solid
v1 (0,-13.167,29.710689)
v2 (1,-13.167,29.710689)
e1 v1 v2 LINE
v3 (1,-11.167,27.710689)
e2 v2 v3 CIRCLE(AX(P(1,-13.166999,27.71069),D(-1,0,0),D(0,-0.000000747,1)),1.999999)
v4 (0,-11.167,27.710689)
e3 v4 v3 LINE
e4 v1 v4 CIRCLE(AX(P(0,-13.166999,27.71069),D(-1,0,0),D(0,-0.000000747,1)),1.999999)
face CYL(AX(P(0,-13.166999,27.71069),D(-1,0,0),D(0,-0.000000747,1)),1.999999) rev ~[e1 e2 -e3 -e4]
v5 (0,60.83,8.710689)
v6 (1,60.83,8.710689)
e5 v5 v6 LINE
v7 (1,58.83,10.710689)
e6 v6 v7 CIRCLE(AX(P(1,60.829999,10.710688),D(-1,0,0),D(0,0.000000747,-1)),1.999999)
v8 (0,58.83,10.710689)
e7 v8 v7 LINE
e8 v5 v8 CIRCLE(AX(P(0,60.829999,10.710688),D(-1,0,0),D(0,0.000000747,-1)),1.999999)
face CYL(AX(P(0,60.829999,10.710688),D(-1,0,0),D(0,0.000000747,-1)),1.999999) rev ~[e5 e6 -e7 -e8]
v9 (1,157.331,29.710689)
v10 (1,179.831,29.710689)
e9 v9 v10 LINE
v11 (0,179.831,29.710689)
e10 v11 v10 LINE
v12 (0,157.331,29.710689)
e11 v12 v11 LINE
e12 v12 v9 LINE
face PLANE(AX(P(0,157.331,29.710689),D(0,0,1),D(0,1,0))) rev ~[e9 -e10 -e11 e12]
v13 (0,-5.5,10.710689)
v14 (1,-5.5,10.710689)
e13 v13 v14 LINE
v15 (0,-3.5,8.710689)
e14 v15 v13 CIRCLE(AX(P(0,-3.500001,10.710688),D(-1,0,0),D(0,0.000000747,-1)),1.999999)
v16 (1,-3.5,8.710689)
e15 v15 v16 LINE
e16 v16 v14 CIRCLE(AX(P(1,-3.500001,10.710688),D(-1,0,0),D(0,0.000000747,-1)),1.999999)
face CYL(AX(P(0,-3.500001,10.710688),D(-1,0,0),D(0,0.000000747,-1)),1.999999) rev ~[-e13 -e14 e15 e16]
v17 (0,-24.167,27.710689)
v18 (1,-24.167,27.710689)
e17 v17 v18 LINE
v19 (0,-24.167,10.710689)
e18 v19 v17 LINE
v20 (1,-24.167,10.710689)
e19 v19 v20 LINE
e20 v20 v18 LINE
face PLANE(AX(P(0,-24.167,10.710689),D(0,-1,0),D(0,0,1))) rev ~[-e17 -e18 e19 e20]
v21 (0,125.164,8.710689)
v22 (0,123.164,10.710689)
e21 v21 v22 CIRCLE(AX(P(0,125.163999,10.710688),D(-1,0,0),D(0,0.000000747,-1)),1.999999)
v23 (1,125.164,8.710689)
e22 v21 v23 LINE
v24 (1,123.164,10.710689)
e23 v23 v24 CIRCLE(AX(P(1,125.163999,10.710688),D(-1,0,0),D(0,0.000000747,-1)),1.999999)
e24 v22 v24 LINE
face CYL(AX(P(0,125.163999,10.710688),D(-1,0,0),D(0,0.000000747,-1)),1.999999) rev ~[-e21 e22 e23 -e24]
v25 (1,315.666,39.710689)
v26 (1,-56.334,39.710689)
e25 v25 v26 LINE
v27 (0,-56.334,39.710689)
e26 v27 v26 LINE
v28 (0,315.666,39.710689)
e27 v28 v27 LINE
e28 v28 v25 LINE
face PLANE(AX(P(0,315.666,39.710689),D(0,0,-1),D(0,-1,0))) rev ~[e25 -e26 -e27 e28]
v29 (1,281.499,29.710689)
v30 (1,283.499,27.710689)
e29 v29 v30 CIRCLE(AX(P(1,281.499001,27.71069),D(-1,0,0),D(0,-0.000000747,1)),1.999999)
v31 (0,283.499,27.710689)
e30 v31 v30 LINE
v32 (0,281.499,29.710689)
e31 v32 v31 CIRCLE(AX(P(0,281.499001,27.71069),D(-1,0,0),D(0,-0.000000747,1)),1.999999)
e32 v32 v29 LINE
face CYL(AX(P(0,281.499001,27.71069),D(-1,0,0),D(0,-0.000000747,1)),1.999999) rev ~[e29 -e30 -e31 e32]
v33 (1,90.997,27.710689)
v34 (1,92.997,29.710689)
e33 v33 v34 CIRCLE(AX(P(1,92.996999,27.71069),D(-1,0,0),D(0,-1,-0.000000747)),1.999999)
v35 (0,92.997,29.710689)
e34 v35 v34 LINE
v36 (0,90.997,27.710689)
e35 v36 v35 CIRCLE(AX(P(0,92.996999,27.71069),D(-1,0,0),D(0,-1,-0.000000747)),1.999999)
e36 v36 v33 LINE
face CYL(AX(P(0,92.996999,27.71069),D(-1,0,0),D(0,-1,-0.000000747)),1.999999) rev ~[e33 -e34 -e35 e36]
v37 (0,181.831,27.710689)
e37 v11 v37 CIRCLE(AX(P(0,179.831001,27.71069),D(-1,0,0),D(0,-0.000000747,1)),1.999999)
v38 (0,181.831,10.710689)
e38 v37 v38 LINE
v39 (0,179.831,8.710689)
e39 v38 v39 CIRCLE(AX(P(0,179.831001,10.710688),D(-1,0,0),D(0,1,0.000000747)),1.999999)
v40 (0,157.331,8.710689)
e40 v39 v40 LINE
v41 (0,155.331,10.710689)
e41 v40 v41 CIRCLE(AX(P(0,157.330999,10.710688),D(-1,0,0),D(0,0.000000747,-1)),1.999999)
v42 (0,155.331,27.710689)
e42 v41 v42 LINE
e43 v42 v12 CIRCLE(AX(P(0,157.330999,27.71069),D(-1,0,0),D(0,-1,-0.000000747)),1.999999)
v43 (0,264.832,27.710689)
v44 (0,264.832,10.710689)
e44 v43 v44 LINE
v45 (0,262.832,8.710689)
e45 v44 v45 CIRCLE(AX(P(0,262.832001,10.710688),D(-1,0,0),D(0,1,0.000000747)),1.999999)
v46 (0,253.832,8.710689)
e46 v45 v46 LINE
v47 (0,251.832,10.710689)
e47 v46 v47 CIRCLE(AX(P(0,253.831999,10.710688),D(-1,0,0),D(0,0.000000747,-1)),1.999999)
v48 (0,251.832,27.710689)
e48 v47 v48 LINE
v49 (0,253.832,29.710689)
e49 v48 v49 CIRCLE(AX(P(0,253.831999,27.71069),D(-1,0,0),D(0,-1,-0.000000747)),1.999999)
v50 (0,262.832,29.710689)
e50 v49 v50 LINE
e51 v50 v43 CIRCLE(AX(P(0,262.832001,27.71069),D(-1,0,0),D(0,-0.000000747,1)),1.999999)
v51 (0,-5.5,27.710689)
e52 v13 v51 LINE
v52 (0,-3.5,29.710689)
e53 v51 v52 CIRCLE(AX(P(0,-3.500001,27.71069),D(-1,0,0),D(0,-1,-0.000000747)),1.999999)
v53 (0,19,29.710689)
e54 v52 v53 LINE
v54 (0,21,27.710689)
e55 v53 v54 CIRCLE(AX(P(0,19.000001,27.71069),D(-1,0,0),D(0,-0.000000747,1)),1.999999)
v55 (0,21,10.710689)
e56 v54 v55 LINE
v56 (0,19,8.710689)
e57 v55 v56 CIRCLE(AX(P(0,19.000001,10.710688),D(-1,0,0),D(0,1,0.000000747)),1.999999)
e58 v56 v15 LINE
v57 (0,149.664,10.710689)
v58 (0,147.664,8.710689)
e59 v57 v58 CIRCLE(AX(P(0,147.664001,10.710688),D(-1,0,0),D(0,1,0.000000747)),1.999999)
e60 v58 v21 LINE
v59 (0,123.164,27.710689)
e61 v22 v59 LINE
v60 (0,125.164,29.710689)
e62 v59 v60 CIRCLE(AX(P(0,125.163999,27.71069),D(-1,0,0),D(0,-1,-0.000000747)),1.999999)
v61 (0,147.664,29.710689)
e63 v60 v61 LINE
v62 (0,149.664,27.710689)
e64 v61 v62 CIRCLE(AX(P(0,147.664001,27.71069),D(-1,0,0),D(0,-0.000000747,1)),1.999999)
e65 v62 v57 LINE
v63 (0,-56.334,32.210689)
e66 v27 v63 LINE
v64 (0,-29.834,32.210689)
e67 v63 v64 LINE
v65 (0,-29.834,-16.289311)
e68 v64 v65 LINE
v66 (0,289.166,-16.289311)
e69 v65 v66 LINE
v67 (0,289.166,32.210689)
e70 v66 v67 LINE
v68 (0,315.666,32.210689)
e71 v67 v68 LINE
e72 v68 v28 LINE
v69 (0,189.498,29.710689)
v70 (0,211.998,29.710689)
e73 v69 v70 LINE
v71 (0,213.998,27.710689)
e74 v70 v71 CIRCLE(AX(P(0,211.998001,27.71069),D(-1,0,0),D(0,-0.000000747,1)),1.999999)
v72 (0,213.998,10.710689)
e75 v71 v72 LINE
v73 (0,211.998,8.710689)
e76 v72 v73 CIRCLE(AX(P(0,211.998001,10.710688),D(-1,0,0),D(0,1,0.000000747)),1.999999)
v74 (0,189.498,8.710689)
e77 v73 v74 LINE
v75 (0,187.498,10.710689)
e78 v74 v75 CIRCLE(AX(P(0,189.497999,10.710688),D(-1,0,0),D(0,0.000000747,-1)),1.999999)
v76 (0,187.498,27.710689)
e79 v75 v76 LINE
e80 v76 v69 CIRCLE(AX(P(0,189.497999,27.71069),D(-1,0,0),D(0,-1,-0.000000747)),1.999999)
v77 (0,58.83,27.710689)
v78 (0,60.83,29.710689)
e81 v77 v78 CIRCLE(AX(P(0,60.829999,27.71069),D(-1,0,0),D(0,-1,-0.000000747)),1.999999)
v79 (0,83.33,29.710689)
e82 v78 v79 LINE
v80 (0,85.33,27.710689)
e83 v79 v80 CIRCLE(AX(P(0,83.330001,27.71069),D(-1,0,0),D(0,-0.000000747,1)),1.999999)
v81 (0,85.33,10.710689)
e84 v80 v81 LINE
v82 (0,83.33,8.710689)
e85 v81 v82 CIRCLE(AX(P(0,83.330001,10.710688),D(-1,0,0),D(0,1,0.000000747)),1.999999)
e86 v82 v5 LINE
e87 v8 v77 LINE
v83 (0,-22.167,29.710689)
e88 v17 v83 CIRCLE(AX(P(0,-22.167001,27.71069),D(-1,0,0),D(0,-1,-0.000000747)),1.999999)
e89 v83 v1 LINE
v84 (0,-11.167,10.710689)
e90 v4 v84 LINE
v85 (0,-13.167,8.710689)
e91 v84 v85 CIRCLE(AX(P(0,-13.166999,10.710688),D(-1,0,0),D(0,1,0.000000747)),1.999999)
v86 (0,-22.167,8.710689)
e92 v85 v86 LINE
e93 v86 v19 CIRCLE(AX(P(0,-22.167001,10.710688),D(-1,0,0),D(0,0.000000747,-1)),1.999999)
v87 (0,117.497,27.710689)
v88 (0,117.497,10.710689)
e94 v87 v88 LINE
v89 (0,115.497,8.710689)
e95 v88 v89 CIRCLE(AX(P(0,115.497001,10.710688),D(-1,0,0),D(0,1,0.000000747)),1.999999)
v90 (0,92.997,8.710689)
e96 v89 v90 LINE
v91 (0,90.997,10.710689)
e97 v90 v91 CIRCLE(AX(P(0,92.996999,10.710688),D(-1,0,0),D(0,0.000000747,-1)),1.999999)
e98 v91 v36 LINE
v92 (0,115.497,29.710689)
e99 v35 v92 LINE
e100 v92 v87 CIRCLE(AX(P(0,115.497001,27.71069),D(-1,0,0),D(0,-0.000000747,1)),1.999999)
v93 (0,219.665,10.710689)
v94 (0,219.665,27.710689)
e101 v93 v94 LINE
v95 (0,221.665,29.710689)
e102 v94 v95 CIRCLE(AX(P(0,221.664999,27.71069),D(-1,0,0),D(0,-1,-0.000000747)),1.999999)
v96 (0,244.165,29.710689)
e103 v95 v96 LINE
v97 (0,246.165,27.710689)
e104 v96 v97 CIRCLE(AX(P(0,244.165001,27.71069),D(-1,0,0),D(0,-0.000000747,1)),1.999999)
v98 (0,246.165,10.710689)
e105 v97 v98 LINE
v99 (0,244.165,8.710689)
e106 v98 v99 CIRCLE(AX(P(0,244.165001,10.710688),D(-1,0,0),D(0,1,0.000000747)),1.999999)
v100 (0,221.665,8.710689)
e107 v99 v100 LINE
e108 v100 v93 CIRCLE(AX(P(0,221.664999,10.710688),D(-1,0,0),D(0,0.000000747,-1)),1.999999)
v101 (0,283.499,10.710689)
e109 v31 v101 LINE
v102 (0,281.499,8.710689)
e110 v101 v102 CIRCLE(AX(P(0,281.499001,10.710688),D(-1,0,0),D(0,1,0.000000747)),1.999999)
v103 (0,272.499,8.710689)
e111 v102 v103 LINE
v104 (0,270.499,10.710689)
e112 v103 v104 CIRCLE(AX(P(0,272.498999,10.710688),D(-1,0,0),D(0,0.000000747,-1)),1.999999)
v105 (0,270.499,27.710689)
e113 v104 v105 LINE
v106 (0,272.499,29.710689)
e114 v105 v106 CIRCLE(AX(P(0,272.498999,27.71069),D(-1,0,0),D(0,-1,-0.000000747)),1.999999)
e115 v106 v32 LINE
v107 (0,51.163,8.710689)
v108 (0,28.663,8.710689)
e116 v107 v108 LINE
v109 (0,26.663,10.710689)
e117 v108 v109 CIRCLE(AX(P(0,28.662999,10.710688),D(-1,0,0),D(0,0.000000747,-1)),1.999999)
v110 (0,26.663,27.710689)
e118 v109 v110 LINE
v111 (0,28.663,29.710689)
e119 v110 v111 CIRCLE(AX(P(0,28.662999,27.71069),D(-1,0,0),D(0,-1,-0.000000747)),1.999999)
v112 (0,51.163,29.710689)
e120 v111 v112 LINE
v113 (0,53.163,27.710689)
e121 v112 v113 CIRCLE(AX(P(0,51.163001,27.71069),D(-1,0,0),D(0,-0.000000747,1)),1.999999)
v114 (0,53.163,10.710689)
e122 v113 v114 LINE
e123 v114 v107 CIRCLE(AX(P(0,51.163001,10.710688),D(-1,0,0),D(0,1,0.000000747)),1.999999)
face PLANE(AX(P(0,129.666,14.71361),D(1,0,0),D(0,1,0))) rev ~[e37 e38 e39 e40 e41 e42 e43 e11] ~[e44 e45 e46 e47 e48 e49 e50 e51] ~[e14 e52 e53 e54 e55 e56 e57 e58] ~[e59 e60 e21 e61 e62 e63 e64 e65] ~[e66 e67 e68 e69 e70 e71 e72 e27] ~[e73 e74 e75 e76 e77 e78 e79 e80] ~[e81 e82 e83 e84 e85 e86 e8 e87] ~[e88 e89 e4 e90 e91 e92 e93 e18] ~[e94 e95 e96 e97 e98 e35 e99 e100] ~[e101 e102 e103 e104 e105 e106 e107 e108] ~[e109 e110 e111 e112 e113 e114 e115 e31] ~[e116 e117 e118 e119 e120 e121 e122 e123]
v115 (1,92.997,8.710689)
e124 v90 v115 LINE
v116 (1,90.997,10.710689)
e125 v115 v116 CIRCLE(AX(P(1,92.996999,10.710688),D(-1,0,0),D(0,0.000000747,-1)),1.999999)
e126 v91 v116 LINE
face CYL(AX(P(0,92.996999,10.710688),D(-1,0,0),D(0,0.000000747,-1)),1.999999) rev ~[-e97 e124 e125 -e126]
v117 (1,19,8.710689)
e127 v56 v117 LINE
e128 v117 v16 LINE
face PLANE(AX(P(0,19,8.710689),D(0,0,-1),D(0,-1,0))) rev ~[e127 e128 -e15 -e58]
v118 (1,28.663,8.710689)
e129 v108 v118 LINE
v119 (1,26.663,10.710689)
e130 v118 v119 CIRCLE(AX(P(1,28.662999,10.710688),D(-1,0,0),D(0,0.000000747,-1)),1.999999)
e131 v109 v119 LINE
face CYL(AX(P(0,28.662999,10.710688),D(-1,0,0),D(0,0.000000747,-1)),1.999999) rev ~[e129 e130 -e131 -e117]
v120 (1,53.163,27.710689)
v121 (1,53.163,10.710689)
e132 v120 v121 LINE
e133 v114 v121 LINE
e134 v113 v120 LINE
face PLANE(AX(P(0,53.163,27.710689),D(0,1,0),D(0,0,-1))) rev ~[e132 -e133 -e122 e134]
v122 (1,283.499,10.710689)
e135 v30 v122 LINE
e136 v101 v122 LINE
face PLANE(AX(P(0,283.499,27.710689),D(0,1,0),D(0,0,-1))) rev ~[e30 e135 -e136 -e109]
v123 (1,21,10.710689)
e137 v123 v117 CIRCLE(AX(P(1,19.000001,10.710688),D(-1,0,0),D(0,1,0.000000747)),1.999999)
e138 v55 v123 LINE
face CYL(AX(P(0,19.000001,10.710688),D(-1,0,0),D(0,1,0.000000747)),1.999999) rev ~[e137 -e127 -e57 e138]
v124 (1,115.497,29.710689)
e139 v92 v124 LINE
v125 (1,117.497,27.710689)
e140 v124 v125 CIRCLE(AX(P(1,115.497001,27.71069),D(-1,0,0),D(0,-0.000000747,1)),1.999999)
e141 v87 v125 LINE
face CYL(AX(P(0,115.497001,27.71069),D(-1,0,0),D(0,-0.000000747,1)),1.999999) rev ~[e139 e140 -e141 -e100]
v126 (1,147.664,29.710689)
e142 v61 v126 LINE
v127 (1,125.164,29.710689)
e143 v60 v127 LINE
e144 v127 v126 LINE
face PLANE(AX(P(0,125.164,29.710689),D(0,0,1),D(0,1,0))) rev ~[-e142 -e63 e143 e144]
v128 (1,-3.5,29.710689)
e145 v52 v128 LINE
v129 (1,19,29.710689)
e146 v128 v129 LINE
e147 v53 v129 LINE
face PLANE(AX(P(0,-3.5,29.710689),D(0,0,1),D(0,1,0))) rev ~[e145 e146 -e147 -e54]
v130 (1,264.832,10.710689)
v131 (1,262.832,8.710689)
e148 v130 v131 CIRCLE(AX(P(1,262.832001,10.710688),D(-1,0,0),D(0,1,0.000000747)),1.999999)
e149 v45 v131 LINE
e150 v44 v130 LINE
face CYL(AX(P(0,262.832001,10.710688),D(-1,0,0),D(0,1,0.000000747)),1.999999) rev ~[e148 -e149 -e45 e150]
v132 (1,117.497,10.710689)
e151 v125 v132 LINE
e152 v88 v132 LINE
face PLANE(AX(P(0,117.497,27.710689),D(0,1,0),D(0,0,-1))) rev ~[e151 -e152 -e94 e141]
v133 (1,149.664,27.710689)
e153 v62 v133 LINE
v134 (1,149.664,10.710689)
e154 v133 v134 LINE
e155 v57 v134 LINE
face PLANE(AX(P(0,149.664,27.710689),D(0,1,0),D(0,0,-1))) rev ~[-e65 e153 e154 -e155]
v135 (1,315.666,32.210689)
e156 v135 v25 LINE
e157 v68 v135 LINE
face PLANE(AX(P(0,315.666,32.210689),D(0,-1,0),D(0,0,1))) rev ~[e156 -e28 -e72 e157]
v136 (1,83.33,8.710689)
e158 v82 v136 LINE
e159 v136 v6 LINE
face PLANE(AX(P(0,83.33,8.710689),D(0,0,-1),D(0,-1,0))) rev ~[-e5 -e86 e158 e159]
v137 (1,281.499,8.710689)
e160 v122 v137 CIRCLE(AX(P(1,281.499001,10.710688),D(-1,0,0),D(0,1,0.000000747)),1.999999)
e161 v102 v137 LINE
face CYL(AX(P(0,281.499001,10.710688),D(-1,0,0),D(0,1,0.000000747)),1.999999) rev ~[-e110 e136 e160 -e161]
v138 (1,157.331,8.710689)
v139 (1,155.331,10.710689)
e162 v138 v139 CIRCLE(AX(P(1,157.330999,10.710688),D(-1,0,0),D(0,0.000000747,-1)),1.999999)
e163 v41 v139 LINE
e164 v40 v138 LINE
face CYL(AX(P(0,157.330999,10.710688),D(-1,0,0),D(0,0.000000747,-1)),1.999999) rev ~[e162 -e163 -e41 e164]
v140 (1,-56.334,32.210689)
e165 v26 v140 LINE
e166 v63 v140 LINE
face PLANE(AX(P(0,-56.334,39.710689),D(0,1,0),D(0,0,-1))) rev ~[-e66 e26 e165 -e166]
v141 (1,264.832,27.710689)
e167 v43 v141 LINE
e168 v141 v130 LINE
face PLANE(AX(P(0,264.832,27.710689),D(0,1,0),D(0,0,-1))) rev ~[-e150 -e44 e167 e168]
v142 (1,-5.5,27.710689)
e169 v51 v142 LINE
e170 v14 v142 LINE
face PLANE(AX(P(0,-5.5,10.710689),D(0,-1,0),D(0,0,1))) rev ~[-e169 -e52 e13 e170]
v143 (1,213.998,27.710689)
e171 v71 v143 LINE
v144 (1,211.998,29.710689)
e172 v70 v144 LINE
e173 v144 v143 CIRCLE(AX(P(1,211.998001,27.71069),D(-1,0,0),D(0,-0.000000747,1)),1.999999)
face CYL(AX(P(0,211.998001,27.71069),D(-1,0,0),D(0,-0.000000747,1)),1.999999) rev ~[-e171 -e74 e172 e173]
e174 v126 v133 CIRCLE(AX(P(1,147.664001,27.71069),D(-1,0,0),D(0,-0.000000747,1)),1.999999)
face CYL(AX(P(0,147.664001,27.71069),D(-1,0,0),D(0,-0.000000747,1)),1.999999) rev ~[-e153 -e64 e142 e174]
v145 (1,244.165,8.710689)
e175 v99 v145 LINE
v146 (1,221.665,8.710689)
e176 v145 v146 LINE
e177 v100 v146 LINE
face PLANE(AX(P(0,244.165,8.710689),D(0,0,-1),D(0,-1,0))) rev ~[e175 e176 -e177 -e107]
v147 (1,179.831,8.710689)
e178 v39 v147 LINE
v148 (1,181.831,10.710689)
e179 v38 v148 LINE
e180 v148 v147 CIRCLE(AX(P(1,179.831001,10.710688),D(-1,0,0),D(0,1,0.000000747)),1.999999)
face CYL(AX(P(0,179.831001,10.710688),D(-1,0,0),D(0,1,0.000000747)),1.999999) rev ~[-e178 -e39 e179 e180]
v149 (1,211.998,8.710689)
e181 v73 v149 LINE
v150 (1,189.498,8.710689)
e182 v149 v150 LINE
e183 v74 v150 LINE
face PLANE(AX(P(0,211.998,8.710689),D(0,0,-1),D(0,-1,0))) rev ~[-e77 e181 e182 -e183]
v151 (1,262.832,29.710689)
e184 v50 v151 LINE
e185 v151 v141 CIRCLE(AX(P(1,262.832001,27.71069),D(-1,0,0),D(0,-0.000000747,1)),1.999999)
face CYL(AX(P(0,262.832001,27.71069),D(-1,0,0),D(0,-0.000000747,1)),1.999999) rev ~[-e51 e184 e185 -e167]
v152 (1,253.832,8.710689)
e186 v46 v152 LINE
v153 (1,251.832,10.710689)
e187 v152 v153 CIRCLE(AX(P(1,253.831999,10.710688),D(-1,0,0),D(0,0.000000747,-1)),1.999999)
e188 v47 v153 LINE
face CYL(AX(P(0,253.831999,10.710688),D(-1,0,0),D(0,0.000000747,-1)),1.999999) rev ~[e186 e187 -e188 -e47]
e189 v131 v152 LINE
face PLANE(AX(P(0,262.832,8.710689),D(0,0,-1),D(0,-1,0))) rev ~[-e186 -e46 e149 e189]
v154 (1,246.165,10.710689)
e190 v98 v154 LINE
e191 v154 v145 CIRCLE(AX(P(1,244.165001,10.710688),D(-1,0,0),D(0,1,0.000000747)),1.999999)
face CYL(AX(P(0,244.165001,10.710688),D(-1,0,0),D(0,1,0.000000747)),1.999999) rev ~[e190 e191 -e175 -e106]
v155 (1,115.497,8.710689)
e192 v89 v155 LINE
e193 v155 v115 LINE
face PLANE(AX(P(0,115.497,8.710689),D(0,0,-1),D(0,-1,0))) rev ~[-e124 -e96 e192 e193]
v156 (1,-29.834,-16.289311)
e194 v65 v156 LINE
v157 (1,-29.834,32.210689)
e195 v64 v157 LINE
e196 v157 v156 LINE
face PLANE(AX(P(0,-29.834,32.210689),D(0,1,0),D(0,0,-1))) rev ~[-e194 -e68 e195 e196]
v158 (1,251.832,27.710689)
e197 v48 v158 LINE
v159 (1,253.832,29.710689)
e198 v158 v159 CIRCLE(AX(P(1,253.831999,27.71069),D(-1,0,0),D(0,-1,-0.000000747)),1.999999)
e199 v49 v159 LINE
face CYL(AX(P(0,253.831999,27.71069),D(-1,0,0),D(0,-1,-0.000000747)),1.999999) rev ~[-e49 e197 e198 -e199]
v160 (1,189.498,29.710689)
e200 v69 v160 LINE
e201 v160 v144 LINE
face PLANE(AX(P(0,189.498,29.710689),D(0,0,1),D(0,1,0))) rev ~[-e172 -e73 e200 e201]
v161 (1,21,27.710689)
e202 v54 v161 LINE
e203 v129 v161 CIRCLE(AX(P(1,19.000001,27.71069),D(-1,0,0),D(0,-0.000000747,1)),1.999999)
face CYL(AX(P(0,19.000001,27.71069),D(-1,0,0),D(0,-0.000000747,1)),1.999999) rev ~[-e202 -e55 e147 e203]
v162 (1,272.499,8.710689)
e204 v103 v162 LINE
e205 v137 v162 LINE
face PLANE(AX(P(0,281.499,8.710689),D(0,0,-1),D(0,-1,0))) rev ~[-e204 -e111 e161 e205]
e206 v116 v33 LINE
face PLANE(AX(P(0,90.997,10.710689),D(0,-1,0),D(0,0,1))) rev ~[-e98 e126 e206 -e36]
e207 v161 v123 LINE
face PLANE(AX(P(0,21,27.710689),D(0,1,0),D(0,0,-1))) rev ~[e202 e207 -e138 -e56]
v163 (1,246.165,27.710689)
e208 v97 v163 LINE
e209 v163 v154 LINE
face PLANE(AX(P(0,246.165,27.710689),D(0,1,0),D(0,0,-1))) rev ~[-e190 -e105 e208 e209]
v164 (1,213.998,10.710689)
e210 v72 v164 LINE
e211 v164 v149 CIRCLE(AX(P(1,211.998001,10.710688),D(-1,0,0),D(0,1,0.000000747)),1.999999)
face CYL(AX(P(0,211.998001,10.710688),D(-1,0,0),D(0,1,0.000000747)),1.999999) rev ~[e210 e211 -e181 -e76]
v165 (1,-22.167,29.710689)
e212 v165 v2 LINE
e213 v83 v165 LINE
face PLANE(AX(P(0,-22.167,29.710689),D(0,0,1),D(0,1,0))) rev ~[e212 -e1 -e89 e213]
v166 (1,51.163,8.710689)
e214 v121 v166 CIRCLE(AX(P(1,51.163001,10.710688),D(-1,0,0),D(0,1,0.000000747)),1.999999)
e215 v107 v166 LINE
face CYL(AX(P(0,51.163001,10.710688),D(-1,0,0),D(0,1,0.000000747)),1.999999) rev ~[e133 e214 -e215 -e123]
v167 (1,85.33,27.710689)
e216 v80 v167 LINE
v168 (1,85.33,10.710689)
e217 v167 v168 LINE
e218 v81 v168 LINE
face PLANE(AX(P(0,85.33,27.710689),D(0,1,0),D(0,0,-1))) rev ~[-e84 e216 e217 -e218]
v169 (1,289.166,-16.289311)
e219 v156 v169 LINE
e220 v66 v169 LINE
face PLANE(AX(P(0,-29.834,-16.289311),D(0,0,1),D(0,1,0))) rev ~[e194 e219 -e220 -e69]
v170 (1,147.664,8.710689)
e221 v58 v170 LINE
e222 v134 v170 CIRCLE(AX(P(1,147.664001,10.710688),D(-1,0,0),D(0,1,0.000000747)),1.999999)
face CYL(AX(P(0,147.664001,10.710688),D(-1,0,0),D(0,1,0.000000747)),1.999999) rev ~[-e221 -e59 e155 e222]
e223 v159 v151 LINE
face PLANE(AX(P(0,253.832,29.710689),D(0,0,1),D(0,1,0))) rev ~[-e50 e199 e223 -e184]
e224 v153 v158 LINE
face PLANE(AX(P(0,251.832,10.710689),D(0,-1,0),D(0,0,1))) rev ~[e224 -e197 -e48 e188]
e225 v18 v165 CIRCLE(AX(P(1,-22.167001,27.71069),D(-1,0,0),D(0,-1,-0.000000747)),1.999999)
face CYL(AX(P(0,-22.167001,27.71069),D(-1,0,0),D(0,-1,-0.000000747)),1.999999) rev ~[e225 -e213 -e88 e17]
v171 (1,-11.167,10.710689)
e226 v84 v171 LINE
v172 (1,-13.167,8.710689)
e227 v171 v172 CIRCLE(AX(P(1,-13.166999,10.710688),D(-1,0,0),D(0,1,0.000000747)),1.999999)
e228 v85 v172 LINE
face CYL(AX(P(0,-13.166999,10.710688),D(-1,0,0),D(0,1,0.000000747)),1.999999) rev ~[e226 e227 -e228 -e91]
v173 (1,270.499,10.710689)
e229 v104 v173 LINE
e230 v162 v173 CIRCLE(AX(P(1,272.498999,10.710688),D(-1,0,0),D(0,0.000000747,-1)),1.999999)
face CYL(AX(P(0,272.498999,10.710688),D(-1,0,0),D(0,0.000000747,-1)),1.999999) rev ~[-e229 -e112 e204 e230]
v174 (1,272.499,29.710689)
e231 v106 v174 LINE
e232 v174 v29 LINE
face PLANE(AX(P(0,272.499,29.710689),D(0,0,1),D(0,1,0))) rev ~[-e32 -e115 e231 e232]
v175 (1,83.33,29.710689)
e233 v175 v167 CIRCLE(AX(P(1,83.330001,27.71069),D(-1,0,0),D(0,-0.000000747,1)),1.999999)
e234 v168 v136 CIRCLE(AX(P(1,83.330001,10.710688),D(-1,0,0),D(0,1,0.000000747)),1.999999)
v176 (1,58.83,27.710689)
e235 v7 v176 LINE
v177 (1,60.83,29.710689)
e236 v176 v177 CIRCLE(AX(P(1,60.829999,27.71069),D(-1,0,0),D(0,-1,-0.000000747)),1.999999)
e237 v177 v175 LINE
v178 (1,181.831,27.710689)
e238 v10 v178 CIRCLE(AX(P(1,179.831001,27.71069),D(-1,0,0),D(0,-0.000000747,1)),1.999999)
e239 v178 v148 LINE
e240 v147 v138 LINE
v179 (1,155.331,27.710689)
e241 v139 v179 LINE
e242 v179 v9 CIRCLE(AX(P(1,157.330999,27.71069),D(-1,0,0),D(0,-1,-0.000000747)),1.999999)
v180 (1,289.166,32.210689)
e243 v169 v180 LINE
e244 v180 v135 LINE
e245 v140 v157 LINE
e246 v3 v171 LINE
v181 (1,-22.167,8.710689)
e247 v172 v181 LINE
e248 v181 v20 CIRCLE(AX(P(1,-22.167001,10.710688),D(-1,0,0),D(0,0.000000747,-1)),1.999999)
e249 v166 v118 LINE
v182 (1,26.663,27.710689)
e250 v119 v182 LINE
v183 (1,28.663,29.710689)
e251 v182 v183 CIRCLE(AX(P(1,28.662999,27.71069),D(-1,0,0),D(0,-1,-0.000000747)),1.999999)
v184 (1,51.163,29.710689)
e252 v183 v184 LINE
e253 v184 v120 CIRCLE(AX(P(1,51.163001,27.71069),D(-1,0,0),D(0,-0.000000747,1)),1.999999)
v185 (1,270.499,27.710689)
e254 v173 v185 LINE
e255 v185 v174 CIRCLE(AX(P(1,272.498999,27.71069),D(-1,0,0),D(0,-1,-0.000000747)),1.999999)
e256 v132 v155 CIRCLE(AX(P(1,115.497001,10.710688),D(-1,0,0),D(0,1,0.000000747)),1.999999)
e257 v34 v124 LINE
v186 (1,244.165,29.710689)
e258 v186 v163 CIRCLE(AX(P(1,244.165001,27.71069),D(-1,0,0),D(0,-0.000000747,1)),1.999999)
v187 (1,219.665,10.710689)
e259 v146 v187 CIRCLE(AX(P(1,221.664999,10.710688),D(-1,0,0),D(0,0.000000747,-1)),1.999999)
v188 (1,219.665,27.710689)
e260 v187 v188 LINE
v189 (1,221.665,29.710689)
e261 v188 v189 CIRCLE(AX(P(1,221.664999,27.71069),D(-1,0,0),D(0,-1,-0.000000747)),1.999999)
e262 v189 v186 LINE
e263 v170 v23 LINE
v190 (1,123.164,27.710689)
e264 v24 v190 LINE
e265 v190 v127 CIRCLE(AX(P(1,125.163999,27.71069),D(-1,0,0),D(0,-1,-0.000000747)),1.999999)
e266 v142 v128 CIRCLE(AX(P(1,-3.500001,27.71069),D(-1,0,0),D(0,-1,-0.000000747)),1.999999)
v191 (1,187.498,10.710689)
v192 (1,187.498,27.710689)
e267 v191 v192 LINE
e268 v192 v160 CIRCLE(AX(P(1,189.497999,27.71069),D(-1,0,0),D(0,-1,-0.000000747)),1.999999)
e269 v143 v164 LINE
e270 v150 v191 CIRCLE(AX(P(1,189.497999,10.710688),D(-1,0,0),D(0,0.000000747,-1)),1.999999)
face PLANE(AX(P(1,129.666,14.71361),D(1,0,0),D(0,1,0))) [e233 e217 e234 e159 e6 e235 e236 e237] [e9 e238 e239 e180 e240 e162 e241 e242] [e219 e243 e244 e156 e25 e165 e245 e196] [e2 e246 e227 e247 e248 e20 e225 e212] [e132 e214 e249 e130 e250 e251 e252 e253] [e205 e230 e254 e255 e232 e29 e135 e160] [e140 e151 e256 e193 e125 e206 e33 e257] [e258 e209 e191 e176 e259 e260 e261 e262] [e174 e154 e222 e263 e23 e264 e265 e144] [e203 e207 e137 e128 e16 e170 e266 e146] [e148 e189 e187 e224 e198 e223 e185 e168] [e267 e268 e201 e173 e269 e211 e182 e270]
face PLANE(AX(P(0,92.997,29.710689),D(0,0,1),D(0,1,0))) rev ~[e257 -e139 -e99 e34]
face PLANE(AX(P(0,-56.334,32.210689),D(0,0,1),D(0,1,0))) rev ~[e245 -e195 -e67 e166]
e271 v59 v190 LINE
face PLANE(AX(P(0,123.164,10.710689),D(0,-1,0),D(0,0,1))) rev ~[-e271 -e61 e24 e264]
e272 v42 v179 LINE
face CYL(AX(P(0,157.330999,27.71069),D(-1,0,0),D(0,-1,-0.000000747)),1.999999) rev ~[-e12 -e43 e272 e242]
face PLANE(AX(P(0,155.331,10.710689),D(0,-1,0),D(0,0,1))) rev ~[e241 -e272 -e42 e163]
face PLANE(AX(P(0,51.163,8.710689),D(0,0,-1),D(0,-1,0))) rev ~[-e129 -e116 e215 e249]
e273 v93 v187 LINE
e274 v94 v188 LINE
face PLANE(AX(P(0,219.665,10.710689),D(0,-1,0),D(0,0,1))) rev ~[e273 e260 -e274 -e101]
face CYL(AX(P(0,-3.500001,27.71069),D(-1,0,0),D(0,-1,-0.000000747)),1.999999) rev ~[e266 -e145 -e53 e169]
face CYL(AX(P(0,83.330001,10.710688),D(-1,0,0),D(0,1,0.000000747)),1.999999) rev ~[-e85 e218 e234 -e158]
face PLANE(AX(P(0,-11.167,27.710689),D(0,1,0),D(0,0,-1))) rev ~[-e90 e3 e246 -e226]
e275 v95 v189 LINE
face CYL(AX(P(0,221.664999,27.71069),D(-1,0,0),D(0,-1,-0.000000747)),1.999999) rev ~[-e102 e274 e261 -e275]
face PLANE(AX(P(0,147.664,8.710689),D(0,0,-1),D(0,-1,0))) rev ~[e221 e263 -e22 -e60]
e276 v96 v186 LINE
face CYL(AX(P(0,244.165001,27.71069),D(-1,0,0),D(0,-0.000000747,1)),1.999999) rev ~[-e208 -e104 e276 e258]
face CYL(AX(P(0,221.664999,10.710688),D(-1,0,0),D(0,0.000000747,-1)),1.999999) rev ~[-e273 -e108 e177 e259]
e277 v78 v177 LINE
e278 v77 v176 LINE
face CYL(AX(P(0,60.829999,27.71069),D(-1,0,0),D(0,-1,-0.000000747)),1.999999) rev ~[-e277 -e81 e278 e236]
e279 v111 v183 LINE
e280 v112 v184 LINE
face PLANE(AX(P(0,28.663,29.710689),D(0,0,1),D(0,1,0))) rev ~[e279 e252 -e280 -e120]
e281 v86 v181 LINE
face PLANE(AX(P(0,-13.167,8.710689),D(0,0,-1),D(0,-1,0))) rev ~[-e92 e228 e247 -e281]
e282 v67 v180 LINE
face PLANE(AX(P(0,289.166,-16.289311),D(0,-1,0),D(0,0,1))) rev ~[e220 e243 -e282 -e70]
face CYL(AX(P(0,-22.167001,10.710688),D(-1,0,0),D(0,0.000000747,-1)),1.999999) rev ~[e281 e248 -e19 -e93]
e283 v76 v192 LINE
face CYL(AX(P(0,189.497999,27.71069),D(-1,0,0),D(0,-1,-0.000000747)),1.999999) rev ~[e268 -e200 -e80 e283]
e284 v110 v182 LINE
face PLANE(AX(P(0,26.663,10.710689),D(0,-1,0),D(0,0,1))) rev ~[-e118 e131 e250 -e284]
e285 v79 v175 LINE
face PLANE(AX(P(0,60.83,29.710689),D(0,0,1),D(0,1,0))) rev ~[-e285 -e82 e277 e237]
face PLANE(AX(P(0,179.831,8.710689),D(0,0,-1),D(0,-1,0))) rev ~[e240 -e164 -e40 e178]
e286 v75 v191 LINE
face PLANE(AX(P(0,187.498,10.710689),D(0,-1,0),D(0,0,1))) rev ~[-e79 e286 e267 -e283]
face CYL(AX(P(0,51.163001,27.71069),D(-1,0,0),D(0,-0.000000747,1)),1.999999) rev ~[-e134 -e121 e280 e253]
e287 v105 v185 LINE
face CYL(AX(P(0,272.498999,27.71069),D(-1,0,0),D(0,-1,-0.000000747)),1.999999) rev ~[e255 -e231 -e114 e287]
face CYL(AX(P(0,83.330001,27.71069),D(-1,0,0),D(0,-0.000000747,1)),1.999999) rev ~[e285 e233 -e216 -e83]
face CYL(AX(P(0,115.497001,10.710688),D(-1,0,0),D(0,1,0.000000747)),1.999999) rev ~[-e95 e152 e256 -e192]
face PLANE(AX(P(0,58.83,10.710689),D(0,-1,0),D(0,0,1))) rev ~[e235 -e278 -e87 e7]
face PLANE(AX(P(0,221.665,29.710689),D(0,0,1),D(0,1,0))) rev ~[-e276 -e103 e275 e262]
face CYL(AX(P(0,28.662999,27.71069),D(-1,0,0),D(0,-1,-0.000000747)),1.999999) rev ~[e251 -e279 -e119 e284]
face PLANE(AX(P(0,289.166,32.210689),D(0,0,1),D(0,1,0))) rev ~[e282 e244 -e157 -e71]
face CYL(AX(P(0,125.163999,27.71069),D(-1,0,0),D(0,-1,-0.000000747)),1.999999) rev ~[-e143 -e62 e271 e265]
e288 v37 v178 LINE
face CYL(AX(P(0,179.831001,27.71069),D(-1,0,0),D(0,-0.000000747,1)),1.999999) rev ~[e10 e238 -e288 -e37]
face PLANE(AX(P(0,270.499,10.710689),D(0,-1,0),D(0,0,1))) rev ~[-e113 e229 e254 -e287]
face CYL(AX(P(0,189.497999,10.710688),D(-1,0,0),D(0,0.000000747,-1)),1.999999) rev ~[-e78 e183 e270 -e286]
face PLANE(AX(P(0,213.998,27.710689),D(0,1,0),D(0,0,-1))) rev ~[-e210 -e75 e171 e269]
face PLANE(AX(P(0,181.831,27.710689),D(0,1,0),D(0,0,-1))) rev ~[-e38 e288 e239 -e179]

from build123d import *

# Parameters (mm, degrees)
F1_DEPTH = 1


with BuildPart() as f1:
    # F0 (on Right) → F1 (new body)
    with BuildSketch(Plane.YZ):
        Polygon((289.166, 39.710689), (-29.834, 39.710689), (-56.334, 39.710689), (-56.334, 32.210689), (-29.834, 32.210689), (-29.834, -16.289311), (289.166, -16.289311), (289.166, 32.210689), (315.666, 32.210689), (315.666, 39.710689), align=None)
        with BuildLine():
            ThreePointArc((-24.167, 27.710689), (-23.581214, 29.124903), (-22.167, 29.710689))
            Line((-22.167, 29.710689), (-13.167, 29.710689))
            ThreePointArc((-13.167, 29.710689), (-11.752786, 29.124903), (-11.167, 27.710689))
            Line((-11.167, 27.710689), (-11.167, 10.710689))
            ThreePointArc((-11.167, 10.710689), (-11.752786, 9.296475), (-13.167, 8.710689))
            Line((-13.167, 8.710689), (-22.167, 8.710689))
            ThreePointArc((-22.167, 8.710689), (-23.581214, 9.296475), (-24.167, 10.710689))
            Line((-24.167, 10.710689), (-24.167, 27.710689))
        make_face(mode=Mode.SUBTRACT)
        with BuildLine():
            ThreePointArc((-5.5, 27.710689), (-4.914214, 29.124903), (-3.5, 29.710689))
            Line((-3.5, 29.710689), (19, 29.710689))
            ThreePointArc((19, 29.710689), (20.414214, 29.124903), (21, 27.710689))
            Line((21, 27.710689), (21, 10.710689))
            ThreePointArc((21, 10.710689), (20.414214, 9.296475), (19, 8.710689))
            Line((19, 8.710689), (-3.5, 8.710689))
            ThreePointArc((-3.5, 8.710689), (-4.914214, 9.296475), (-5.5, 10.710689))
            Line((-5.5, 10.710689), (-5.5, 27.710689))
        make_face(mode=Mode.SUBTRACT)
        with BuildLine():
            ThreePointArc((26.663, 27.710689), (27.248786, 29.124903), (28.663, 29.710689))
            Line((28.663, 29.710689), (51.163, 29.710689))
            ThreePointArc((51.163, 29.710689), (52.577214, 29.124903), (53.163, 27.710689))
            Line((53.163, 27.710689), (53.163, 10.710689))
            ThreePointArc((53.163, 10.710689), (52.577214, 9.296475), (51.163, 8.710689))
            Line((51.163, 8.710689), (28.663, 8.710689))
            ThreePointArc((28.663, 8.710689), (27.248786, 9.296475), (26.663, 10.710689))
            Line((26.663, 10.710689), (26.663, 27.710689))
        make_face(mode=Mode.SUBTRACT)
        with BuildLine():
            ThreePointArc((58.83, 27.710689), (59.415786, 29.124903), (60.83, 29.710689))
            Line((60.83, 29.710689), (83.33, 29.710689))
            ThreePointArc((83.33, 29.710689), (84.744214, 29.124903), (85.33, 27.710689))
            Line((85.33, 27.710689), (85.33, 10.710689))
            ThreePointArc((85.33, 10.710689), (84.744214, 9.296475), (83.33, 8.710689))
            Line((83.33, 8.710689), (60.83, 8.710689))
            ThreePointArc((60.83, 8.710689), (59.415786, 9.296475), (58.83, 10.710689))
            Line((58.83, 10.710689), (58.83, 27.710689))
        make_face(mode=Mode.SUBTRACT)
        with BuildLine():
            ThreePointArc((90.997, 27.710689), (91.582786, 29.124903), (92.997, 29.710689))
            Line((92.997, 29.710689), (115.497, 29.710689))
            ThreePointArc((115.497, 29.710689), (116.911214, 29.124903), (117.497, 27.710689))
            Line((117.497, 27.710689), (117.497, 10.710689))
            ThreePointArc((117.497, 10.710689), (116.911214, 9.296475), (115.497, 8.710689))
            Line((115.497, 8.710689), (92.997, 8.710689))
            ThreePointArc((92.997, 8.710689), (91.582786, 9.296475), (90.997, 10.710689))
            Line((90.997, 10.710689), (90.997, 27.710689))
        make_face(mode=Mode.SUBTRACT)
        with BuildLine():
            ThreePointArc((123.164, 27.710689), (123.749786, 29.124903), (125.164, 29.710689))
            Line((125.164, 29.710689), (147.664, 29.710689))
            ThreePointArc((147.664, 29.710689), (149.078214, 29.124903), (149.664, 27.710689))
            Line((149.664, 27.710689), (149.664, 10.710689))
            ThreePointArc((149.664, 10.710689), (149.078214, 9.296475), (147.664, 8.710689))
            Line((147.664, 8.710689), (125.164, 8.710689))
            ThreePointArc((125.164, 8.710689), (123.749786, 9.296475), (123.164, 10.710689))
            Line((123.164, 10.710689), (123.164, 27.710689))
        make_face(mode=Mode.SUBTRACT)
        with BuildLine():
            ThreePointArc((155.331, 27.710689), (155.916786, 29.124903), (157.331, 29.710689))
            Line((157.331, 29.710689), (179.831, 29.710689))
            ThreePointArc((179.831, 29.710689), (181.245214, 29.124903), (181.831, 27.710689))
            Line((181.831, 27.710689), (181.831, 10.710689))
            ThreePointArc((181.831, 10.710689), (181.245214, 9.296475), (179.831, 8.710689))
            Line((179.831, 8.710689), (157.331, 8.710689))
            ThreePointArc((157.331, 8.710689), (155.916786, 9.296475), (155.331, 10.710689))
            Line((155.331, 10.710689), (155.331, 27.710689))
        make_face(mode=Mode.SUBTRACT)
        with BuildLine():
            ThreePointArc((187.498, 27.710689), (188.083786, 29.124903), (189.498, 29.710689))
            Line((189.498, 29.710689), (211.998, 29.710689))
            ThreePointArc((211.998, 29.710689), (213.412214, 29.124903), (213.998, 27.710689))
            Line((213.998, 27.710689), (213.998, 10.710689))
            ThreePointArc((213.998, 10.710689), (213.412214, 9.296475), (211.998, 8.710689))
            Line((211.998, 8.710689), (189.498, 8.710689))
            ThreePointArc((189.498, 8.710689), (188.083786, 9.296475), (187.498, 10.710689))
            Line((187.498, 10.710689), (187.498, 27.710689))
        make_face(mode=Mode.SUBTRACT)
        with BuildLine():
            ThreePointArc((219.665, 27.710689), (220.250786, 29.124903), (221.665, 29.710689))
            Line((221.665, 29.710689), (244.165, 29.710689))
            ThreePointArc((244.165, 29.710689), (245.579214, 29.124903), (246.165, 27.710689))
            Line((246.165, 27.710689), (246.165, 10.710689))
            ThreePointArc((246.165, 10.710689), (245.579214, 9.296475), (244.165, 8.710689))
            Line((244.165, 8.710689), (221.665, 8.710689))
            ThreePointArc((221.665, 8.710689), (220.250786, 9.296475), (219.665, 10.710689))
            Line((219.665, 10.710689), (219.665, 27.710689))
        make_face(mode=Mode.SUBTRACT)
        with BuildLine():
            ThreePointArc((251.832, 27.710689), (252.417786, 29.124903), (253.832, 29.710689))
            Line((253.832, 29.710689), (262.832, 29.710689))
            ThreePointArc((262.832, 29.710689), (264.246214, 29.124903), (264.832, 27.710689))
            Line((264.832, 27.710689), (264.832, 10.710689))
            ThreePointArc((264.832, 10.710689), (264.246214, 9.296475), (262.832, 8.710689))
            Line((262.832, 8.710689), (253.832, 8.710689))
            ThreePointArc((253.832, 8.710689), (252.417786, 9.296475), (251.832, 10.710689))
            Line((251.832, 10.710689), (251.832, 27.710689))
        make_face(mode=Mode.SUBTRACT)
        with BuildLine():
            ThreePointArc((270.499, 27.710689), (271.084786, 29.124903), (272.499, 29.710689))
            Line((272.499, 29.710689), (281.499, 29.710689))
            ThreePointArc((281.499, 29.710689), (282.913214, 29.124903), (283.499, 27.710689))
            Line((283.499, 27.710689), (283.499, 10.710689))
            ThreePointArc((283.499, 10.710689), (282.913214, 9.296475), (281.499, 8.710689))
            Line((281.499, 8.710689), (272.499, 8.710689))
            ThreePointArc((272.499, 8.710689), (271.084786, 9.296475), (270.499, 10.710689))
            Line((270.499, 10.710689), (270.499, 27.710689))
        make_face(mode=Mode.SUBTRACT)
    extrude(amount=F1_DEPTH)


solid = f1.part
